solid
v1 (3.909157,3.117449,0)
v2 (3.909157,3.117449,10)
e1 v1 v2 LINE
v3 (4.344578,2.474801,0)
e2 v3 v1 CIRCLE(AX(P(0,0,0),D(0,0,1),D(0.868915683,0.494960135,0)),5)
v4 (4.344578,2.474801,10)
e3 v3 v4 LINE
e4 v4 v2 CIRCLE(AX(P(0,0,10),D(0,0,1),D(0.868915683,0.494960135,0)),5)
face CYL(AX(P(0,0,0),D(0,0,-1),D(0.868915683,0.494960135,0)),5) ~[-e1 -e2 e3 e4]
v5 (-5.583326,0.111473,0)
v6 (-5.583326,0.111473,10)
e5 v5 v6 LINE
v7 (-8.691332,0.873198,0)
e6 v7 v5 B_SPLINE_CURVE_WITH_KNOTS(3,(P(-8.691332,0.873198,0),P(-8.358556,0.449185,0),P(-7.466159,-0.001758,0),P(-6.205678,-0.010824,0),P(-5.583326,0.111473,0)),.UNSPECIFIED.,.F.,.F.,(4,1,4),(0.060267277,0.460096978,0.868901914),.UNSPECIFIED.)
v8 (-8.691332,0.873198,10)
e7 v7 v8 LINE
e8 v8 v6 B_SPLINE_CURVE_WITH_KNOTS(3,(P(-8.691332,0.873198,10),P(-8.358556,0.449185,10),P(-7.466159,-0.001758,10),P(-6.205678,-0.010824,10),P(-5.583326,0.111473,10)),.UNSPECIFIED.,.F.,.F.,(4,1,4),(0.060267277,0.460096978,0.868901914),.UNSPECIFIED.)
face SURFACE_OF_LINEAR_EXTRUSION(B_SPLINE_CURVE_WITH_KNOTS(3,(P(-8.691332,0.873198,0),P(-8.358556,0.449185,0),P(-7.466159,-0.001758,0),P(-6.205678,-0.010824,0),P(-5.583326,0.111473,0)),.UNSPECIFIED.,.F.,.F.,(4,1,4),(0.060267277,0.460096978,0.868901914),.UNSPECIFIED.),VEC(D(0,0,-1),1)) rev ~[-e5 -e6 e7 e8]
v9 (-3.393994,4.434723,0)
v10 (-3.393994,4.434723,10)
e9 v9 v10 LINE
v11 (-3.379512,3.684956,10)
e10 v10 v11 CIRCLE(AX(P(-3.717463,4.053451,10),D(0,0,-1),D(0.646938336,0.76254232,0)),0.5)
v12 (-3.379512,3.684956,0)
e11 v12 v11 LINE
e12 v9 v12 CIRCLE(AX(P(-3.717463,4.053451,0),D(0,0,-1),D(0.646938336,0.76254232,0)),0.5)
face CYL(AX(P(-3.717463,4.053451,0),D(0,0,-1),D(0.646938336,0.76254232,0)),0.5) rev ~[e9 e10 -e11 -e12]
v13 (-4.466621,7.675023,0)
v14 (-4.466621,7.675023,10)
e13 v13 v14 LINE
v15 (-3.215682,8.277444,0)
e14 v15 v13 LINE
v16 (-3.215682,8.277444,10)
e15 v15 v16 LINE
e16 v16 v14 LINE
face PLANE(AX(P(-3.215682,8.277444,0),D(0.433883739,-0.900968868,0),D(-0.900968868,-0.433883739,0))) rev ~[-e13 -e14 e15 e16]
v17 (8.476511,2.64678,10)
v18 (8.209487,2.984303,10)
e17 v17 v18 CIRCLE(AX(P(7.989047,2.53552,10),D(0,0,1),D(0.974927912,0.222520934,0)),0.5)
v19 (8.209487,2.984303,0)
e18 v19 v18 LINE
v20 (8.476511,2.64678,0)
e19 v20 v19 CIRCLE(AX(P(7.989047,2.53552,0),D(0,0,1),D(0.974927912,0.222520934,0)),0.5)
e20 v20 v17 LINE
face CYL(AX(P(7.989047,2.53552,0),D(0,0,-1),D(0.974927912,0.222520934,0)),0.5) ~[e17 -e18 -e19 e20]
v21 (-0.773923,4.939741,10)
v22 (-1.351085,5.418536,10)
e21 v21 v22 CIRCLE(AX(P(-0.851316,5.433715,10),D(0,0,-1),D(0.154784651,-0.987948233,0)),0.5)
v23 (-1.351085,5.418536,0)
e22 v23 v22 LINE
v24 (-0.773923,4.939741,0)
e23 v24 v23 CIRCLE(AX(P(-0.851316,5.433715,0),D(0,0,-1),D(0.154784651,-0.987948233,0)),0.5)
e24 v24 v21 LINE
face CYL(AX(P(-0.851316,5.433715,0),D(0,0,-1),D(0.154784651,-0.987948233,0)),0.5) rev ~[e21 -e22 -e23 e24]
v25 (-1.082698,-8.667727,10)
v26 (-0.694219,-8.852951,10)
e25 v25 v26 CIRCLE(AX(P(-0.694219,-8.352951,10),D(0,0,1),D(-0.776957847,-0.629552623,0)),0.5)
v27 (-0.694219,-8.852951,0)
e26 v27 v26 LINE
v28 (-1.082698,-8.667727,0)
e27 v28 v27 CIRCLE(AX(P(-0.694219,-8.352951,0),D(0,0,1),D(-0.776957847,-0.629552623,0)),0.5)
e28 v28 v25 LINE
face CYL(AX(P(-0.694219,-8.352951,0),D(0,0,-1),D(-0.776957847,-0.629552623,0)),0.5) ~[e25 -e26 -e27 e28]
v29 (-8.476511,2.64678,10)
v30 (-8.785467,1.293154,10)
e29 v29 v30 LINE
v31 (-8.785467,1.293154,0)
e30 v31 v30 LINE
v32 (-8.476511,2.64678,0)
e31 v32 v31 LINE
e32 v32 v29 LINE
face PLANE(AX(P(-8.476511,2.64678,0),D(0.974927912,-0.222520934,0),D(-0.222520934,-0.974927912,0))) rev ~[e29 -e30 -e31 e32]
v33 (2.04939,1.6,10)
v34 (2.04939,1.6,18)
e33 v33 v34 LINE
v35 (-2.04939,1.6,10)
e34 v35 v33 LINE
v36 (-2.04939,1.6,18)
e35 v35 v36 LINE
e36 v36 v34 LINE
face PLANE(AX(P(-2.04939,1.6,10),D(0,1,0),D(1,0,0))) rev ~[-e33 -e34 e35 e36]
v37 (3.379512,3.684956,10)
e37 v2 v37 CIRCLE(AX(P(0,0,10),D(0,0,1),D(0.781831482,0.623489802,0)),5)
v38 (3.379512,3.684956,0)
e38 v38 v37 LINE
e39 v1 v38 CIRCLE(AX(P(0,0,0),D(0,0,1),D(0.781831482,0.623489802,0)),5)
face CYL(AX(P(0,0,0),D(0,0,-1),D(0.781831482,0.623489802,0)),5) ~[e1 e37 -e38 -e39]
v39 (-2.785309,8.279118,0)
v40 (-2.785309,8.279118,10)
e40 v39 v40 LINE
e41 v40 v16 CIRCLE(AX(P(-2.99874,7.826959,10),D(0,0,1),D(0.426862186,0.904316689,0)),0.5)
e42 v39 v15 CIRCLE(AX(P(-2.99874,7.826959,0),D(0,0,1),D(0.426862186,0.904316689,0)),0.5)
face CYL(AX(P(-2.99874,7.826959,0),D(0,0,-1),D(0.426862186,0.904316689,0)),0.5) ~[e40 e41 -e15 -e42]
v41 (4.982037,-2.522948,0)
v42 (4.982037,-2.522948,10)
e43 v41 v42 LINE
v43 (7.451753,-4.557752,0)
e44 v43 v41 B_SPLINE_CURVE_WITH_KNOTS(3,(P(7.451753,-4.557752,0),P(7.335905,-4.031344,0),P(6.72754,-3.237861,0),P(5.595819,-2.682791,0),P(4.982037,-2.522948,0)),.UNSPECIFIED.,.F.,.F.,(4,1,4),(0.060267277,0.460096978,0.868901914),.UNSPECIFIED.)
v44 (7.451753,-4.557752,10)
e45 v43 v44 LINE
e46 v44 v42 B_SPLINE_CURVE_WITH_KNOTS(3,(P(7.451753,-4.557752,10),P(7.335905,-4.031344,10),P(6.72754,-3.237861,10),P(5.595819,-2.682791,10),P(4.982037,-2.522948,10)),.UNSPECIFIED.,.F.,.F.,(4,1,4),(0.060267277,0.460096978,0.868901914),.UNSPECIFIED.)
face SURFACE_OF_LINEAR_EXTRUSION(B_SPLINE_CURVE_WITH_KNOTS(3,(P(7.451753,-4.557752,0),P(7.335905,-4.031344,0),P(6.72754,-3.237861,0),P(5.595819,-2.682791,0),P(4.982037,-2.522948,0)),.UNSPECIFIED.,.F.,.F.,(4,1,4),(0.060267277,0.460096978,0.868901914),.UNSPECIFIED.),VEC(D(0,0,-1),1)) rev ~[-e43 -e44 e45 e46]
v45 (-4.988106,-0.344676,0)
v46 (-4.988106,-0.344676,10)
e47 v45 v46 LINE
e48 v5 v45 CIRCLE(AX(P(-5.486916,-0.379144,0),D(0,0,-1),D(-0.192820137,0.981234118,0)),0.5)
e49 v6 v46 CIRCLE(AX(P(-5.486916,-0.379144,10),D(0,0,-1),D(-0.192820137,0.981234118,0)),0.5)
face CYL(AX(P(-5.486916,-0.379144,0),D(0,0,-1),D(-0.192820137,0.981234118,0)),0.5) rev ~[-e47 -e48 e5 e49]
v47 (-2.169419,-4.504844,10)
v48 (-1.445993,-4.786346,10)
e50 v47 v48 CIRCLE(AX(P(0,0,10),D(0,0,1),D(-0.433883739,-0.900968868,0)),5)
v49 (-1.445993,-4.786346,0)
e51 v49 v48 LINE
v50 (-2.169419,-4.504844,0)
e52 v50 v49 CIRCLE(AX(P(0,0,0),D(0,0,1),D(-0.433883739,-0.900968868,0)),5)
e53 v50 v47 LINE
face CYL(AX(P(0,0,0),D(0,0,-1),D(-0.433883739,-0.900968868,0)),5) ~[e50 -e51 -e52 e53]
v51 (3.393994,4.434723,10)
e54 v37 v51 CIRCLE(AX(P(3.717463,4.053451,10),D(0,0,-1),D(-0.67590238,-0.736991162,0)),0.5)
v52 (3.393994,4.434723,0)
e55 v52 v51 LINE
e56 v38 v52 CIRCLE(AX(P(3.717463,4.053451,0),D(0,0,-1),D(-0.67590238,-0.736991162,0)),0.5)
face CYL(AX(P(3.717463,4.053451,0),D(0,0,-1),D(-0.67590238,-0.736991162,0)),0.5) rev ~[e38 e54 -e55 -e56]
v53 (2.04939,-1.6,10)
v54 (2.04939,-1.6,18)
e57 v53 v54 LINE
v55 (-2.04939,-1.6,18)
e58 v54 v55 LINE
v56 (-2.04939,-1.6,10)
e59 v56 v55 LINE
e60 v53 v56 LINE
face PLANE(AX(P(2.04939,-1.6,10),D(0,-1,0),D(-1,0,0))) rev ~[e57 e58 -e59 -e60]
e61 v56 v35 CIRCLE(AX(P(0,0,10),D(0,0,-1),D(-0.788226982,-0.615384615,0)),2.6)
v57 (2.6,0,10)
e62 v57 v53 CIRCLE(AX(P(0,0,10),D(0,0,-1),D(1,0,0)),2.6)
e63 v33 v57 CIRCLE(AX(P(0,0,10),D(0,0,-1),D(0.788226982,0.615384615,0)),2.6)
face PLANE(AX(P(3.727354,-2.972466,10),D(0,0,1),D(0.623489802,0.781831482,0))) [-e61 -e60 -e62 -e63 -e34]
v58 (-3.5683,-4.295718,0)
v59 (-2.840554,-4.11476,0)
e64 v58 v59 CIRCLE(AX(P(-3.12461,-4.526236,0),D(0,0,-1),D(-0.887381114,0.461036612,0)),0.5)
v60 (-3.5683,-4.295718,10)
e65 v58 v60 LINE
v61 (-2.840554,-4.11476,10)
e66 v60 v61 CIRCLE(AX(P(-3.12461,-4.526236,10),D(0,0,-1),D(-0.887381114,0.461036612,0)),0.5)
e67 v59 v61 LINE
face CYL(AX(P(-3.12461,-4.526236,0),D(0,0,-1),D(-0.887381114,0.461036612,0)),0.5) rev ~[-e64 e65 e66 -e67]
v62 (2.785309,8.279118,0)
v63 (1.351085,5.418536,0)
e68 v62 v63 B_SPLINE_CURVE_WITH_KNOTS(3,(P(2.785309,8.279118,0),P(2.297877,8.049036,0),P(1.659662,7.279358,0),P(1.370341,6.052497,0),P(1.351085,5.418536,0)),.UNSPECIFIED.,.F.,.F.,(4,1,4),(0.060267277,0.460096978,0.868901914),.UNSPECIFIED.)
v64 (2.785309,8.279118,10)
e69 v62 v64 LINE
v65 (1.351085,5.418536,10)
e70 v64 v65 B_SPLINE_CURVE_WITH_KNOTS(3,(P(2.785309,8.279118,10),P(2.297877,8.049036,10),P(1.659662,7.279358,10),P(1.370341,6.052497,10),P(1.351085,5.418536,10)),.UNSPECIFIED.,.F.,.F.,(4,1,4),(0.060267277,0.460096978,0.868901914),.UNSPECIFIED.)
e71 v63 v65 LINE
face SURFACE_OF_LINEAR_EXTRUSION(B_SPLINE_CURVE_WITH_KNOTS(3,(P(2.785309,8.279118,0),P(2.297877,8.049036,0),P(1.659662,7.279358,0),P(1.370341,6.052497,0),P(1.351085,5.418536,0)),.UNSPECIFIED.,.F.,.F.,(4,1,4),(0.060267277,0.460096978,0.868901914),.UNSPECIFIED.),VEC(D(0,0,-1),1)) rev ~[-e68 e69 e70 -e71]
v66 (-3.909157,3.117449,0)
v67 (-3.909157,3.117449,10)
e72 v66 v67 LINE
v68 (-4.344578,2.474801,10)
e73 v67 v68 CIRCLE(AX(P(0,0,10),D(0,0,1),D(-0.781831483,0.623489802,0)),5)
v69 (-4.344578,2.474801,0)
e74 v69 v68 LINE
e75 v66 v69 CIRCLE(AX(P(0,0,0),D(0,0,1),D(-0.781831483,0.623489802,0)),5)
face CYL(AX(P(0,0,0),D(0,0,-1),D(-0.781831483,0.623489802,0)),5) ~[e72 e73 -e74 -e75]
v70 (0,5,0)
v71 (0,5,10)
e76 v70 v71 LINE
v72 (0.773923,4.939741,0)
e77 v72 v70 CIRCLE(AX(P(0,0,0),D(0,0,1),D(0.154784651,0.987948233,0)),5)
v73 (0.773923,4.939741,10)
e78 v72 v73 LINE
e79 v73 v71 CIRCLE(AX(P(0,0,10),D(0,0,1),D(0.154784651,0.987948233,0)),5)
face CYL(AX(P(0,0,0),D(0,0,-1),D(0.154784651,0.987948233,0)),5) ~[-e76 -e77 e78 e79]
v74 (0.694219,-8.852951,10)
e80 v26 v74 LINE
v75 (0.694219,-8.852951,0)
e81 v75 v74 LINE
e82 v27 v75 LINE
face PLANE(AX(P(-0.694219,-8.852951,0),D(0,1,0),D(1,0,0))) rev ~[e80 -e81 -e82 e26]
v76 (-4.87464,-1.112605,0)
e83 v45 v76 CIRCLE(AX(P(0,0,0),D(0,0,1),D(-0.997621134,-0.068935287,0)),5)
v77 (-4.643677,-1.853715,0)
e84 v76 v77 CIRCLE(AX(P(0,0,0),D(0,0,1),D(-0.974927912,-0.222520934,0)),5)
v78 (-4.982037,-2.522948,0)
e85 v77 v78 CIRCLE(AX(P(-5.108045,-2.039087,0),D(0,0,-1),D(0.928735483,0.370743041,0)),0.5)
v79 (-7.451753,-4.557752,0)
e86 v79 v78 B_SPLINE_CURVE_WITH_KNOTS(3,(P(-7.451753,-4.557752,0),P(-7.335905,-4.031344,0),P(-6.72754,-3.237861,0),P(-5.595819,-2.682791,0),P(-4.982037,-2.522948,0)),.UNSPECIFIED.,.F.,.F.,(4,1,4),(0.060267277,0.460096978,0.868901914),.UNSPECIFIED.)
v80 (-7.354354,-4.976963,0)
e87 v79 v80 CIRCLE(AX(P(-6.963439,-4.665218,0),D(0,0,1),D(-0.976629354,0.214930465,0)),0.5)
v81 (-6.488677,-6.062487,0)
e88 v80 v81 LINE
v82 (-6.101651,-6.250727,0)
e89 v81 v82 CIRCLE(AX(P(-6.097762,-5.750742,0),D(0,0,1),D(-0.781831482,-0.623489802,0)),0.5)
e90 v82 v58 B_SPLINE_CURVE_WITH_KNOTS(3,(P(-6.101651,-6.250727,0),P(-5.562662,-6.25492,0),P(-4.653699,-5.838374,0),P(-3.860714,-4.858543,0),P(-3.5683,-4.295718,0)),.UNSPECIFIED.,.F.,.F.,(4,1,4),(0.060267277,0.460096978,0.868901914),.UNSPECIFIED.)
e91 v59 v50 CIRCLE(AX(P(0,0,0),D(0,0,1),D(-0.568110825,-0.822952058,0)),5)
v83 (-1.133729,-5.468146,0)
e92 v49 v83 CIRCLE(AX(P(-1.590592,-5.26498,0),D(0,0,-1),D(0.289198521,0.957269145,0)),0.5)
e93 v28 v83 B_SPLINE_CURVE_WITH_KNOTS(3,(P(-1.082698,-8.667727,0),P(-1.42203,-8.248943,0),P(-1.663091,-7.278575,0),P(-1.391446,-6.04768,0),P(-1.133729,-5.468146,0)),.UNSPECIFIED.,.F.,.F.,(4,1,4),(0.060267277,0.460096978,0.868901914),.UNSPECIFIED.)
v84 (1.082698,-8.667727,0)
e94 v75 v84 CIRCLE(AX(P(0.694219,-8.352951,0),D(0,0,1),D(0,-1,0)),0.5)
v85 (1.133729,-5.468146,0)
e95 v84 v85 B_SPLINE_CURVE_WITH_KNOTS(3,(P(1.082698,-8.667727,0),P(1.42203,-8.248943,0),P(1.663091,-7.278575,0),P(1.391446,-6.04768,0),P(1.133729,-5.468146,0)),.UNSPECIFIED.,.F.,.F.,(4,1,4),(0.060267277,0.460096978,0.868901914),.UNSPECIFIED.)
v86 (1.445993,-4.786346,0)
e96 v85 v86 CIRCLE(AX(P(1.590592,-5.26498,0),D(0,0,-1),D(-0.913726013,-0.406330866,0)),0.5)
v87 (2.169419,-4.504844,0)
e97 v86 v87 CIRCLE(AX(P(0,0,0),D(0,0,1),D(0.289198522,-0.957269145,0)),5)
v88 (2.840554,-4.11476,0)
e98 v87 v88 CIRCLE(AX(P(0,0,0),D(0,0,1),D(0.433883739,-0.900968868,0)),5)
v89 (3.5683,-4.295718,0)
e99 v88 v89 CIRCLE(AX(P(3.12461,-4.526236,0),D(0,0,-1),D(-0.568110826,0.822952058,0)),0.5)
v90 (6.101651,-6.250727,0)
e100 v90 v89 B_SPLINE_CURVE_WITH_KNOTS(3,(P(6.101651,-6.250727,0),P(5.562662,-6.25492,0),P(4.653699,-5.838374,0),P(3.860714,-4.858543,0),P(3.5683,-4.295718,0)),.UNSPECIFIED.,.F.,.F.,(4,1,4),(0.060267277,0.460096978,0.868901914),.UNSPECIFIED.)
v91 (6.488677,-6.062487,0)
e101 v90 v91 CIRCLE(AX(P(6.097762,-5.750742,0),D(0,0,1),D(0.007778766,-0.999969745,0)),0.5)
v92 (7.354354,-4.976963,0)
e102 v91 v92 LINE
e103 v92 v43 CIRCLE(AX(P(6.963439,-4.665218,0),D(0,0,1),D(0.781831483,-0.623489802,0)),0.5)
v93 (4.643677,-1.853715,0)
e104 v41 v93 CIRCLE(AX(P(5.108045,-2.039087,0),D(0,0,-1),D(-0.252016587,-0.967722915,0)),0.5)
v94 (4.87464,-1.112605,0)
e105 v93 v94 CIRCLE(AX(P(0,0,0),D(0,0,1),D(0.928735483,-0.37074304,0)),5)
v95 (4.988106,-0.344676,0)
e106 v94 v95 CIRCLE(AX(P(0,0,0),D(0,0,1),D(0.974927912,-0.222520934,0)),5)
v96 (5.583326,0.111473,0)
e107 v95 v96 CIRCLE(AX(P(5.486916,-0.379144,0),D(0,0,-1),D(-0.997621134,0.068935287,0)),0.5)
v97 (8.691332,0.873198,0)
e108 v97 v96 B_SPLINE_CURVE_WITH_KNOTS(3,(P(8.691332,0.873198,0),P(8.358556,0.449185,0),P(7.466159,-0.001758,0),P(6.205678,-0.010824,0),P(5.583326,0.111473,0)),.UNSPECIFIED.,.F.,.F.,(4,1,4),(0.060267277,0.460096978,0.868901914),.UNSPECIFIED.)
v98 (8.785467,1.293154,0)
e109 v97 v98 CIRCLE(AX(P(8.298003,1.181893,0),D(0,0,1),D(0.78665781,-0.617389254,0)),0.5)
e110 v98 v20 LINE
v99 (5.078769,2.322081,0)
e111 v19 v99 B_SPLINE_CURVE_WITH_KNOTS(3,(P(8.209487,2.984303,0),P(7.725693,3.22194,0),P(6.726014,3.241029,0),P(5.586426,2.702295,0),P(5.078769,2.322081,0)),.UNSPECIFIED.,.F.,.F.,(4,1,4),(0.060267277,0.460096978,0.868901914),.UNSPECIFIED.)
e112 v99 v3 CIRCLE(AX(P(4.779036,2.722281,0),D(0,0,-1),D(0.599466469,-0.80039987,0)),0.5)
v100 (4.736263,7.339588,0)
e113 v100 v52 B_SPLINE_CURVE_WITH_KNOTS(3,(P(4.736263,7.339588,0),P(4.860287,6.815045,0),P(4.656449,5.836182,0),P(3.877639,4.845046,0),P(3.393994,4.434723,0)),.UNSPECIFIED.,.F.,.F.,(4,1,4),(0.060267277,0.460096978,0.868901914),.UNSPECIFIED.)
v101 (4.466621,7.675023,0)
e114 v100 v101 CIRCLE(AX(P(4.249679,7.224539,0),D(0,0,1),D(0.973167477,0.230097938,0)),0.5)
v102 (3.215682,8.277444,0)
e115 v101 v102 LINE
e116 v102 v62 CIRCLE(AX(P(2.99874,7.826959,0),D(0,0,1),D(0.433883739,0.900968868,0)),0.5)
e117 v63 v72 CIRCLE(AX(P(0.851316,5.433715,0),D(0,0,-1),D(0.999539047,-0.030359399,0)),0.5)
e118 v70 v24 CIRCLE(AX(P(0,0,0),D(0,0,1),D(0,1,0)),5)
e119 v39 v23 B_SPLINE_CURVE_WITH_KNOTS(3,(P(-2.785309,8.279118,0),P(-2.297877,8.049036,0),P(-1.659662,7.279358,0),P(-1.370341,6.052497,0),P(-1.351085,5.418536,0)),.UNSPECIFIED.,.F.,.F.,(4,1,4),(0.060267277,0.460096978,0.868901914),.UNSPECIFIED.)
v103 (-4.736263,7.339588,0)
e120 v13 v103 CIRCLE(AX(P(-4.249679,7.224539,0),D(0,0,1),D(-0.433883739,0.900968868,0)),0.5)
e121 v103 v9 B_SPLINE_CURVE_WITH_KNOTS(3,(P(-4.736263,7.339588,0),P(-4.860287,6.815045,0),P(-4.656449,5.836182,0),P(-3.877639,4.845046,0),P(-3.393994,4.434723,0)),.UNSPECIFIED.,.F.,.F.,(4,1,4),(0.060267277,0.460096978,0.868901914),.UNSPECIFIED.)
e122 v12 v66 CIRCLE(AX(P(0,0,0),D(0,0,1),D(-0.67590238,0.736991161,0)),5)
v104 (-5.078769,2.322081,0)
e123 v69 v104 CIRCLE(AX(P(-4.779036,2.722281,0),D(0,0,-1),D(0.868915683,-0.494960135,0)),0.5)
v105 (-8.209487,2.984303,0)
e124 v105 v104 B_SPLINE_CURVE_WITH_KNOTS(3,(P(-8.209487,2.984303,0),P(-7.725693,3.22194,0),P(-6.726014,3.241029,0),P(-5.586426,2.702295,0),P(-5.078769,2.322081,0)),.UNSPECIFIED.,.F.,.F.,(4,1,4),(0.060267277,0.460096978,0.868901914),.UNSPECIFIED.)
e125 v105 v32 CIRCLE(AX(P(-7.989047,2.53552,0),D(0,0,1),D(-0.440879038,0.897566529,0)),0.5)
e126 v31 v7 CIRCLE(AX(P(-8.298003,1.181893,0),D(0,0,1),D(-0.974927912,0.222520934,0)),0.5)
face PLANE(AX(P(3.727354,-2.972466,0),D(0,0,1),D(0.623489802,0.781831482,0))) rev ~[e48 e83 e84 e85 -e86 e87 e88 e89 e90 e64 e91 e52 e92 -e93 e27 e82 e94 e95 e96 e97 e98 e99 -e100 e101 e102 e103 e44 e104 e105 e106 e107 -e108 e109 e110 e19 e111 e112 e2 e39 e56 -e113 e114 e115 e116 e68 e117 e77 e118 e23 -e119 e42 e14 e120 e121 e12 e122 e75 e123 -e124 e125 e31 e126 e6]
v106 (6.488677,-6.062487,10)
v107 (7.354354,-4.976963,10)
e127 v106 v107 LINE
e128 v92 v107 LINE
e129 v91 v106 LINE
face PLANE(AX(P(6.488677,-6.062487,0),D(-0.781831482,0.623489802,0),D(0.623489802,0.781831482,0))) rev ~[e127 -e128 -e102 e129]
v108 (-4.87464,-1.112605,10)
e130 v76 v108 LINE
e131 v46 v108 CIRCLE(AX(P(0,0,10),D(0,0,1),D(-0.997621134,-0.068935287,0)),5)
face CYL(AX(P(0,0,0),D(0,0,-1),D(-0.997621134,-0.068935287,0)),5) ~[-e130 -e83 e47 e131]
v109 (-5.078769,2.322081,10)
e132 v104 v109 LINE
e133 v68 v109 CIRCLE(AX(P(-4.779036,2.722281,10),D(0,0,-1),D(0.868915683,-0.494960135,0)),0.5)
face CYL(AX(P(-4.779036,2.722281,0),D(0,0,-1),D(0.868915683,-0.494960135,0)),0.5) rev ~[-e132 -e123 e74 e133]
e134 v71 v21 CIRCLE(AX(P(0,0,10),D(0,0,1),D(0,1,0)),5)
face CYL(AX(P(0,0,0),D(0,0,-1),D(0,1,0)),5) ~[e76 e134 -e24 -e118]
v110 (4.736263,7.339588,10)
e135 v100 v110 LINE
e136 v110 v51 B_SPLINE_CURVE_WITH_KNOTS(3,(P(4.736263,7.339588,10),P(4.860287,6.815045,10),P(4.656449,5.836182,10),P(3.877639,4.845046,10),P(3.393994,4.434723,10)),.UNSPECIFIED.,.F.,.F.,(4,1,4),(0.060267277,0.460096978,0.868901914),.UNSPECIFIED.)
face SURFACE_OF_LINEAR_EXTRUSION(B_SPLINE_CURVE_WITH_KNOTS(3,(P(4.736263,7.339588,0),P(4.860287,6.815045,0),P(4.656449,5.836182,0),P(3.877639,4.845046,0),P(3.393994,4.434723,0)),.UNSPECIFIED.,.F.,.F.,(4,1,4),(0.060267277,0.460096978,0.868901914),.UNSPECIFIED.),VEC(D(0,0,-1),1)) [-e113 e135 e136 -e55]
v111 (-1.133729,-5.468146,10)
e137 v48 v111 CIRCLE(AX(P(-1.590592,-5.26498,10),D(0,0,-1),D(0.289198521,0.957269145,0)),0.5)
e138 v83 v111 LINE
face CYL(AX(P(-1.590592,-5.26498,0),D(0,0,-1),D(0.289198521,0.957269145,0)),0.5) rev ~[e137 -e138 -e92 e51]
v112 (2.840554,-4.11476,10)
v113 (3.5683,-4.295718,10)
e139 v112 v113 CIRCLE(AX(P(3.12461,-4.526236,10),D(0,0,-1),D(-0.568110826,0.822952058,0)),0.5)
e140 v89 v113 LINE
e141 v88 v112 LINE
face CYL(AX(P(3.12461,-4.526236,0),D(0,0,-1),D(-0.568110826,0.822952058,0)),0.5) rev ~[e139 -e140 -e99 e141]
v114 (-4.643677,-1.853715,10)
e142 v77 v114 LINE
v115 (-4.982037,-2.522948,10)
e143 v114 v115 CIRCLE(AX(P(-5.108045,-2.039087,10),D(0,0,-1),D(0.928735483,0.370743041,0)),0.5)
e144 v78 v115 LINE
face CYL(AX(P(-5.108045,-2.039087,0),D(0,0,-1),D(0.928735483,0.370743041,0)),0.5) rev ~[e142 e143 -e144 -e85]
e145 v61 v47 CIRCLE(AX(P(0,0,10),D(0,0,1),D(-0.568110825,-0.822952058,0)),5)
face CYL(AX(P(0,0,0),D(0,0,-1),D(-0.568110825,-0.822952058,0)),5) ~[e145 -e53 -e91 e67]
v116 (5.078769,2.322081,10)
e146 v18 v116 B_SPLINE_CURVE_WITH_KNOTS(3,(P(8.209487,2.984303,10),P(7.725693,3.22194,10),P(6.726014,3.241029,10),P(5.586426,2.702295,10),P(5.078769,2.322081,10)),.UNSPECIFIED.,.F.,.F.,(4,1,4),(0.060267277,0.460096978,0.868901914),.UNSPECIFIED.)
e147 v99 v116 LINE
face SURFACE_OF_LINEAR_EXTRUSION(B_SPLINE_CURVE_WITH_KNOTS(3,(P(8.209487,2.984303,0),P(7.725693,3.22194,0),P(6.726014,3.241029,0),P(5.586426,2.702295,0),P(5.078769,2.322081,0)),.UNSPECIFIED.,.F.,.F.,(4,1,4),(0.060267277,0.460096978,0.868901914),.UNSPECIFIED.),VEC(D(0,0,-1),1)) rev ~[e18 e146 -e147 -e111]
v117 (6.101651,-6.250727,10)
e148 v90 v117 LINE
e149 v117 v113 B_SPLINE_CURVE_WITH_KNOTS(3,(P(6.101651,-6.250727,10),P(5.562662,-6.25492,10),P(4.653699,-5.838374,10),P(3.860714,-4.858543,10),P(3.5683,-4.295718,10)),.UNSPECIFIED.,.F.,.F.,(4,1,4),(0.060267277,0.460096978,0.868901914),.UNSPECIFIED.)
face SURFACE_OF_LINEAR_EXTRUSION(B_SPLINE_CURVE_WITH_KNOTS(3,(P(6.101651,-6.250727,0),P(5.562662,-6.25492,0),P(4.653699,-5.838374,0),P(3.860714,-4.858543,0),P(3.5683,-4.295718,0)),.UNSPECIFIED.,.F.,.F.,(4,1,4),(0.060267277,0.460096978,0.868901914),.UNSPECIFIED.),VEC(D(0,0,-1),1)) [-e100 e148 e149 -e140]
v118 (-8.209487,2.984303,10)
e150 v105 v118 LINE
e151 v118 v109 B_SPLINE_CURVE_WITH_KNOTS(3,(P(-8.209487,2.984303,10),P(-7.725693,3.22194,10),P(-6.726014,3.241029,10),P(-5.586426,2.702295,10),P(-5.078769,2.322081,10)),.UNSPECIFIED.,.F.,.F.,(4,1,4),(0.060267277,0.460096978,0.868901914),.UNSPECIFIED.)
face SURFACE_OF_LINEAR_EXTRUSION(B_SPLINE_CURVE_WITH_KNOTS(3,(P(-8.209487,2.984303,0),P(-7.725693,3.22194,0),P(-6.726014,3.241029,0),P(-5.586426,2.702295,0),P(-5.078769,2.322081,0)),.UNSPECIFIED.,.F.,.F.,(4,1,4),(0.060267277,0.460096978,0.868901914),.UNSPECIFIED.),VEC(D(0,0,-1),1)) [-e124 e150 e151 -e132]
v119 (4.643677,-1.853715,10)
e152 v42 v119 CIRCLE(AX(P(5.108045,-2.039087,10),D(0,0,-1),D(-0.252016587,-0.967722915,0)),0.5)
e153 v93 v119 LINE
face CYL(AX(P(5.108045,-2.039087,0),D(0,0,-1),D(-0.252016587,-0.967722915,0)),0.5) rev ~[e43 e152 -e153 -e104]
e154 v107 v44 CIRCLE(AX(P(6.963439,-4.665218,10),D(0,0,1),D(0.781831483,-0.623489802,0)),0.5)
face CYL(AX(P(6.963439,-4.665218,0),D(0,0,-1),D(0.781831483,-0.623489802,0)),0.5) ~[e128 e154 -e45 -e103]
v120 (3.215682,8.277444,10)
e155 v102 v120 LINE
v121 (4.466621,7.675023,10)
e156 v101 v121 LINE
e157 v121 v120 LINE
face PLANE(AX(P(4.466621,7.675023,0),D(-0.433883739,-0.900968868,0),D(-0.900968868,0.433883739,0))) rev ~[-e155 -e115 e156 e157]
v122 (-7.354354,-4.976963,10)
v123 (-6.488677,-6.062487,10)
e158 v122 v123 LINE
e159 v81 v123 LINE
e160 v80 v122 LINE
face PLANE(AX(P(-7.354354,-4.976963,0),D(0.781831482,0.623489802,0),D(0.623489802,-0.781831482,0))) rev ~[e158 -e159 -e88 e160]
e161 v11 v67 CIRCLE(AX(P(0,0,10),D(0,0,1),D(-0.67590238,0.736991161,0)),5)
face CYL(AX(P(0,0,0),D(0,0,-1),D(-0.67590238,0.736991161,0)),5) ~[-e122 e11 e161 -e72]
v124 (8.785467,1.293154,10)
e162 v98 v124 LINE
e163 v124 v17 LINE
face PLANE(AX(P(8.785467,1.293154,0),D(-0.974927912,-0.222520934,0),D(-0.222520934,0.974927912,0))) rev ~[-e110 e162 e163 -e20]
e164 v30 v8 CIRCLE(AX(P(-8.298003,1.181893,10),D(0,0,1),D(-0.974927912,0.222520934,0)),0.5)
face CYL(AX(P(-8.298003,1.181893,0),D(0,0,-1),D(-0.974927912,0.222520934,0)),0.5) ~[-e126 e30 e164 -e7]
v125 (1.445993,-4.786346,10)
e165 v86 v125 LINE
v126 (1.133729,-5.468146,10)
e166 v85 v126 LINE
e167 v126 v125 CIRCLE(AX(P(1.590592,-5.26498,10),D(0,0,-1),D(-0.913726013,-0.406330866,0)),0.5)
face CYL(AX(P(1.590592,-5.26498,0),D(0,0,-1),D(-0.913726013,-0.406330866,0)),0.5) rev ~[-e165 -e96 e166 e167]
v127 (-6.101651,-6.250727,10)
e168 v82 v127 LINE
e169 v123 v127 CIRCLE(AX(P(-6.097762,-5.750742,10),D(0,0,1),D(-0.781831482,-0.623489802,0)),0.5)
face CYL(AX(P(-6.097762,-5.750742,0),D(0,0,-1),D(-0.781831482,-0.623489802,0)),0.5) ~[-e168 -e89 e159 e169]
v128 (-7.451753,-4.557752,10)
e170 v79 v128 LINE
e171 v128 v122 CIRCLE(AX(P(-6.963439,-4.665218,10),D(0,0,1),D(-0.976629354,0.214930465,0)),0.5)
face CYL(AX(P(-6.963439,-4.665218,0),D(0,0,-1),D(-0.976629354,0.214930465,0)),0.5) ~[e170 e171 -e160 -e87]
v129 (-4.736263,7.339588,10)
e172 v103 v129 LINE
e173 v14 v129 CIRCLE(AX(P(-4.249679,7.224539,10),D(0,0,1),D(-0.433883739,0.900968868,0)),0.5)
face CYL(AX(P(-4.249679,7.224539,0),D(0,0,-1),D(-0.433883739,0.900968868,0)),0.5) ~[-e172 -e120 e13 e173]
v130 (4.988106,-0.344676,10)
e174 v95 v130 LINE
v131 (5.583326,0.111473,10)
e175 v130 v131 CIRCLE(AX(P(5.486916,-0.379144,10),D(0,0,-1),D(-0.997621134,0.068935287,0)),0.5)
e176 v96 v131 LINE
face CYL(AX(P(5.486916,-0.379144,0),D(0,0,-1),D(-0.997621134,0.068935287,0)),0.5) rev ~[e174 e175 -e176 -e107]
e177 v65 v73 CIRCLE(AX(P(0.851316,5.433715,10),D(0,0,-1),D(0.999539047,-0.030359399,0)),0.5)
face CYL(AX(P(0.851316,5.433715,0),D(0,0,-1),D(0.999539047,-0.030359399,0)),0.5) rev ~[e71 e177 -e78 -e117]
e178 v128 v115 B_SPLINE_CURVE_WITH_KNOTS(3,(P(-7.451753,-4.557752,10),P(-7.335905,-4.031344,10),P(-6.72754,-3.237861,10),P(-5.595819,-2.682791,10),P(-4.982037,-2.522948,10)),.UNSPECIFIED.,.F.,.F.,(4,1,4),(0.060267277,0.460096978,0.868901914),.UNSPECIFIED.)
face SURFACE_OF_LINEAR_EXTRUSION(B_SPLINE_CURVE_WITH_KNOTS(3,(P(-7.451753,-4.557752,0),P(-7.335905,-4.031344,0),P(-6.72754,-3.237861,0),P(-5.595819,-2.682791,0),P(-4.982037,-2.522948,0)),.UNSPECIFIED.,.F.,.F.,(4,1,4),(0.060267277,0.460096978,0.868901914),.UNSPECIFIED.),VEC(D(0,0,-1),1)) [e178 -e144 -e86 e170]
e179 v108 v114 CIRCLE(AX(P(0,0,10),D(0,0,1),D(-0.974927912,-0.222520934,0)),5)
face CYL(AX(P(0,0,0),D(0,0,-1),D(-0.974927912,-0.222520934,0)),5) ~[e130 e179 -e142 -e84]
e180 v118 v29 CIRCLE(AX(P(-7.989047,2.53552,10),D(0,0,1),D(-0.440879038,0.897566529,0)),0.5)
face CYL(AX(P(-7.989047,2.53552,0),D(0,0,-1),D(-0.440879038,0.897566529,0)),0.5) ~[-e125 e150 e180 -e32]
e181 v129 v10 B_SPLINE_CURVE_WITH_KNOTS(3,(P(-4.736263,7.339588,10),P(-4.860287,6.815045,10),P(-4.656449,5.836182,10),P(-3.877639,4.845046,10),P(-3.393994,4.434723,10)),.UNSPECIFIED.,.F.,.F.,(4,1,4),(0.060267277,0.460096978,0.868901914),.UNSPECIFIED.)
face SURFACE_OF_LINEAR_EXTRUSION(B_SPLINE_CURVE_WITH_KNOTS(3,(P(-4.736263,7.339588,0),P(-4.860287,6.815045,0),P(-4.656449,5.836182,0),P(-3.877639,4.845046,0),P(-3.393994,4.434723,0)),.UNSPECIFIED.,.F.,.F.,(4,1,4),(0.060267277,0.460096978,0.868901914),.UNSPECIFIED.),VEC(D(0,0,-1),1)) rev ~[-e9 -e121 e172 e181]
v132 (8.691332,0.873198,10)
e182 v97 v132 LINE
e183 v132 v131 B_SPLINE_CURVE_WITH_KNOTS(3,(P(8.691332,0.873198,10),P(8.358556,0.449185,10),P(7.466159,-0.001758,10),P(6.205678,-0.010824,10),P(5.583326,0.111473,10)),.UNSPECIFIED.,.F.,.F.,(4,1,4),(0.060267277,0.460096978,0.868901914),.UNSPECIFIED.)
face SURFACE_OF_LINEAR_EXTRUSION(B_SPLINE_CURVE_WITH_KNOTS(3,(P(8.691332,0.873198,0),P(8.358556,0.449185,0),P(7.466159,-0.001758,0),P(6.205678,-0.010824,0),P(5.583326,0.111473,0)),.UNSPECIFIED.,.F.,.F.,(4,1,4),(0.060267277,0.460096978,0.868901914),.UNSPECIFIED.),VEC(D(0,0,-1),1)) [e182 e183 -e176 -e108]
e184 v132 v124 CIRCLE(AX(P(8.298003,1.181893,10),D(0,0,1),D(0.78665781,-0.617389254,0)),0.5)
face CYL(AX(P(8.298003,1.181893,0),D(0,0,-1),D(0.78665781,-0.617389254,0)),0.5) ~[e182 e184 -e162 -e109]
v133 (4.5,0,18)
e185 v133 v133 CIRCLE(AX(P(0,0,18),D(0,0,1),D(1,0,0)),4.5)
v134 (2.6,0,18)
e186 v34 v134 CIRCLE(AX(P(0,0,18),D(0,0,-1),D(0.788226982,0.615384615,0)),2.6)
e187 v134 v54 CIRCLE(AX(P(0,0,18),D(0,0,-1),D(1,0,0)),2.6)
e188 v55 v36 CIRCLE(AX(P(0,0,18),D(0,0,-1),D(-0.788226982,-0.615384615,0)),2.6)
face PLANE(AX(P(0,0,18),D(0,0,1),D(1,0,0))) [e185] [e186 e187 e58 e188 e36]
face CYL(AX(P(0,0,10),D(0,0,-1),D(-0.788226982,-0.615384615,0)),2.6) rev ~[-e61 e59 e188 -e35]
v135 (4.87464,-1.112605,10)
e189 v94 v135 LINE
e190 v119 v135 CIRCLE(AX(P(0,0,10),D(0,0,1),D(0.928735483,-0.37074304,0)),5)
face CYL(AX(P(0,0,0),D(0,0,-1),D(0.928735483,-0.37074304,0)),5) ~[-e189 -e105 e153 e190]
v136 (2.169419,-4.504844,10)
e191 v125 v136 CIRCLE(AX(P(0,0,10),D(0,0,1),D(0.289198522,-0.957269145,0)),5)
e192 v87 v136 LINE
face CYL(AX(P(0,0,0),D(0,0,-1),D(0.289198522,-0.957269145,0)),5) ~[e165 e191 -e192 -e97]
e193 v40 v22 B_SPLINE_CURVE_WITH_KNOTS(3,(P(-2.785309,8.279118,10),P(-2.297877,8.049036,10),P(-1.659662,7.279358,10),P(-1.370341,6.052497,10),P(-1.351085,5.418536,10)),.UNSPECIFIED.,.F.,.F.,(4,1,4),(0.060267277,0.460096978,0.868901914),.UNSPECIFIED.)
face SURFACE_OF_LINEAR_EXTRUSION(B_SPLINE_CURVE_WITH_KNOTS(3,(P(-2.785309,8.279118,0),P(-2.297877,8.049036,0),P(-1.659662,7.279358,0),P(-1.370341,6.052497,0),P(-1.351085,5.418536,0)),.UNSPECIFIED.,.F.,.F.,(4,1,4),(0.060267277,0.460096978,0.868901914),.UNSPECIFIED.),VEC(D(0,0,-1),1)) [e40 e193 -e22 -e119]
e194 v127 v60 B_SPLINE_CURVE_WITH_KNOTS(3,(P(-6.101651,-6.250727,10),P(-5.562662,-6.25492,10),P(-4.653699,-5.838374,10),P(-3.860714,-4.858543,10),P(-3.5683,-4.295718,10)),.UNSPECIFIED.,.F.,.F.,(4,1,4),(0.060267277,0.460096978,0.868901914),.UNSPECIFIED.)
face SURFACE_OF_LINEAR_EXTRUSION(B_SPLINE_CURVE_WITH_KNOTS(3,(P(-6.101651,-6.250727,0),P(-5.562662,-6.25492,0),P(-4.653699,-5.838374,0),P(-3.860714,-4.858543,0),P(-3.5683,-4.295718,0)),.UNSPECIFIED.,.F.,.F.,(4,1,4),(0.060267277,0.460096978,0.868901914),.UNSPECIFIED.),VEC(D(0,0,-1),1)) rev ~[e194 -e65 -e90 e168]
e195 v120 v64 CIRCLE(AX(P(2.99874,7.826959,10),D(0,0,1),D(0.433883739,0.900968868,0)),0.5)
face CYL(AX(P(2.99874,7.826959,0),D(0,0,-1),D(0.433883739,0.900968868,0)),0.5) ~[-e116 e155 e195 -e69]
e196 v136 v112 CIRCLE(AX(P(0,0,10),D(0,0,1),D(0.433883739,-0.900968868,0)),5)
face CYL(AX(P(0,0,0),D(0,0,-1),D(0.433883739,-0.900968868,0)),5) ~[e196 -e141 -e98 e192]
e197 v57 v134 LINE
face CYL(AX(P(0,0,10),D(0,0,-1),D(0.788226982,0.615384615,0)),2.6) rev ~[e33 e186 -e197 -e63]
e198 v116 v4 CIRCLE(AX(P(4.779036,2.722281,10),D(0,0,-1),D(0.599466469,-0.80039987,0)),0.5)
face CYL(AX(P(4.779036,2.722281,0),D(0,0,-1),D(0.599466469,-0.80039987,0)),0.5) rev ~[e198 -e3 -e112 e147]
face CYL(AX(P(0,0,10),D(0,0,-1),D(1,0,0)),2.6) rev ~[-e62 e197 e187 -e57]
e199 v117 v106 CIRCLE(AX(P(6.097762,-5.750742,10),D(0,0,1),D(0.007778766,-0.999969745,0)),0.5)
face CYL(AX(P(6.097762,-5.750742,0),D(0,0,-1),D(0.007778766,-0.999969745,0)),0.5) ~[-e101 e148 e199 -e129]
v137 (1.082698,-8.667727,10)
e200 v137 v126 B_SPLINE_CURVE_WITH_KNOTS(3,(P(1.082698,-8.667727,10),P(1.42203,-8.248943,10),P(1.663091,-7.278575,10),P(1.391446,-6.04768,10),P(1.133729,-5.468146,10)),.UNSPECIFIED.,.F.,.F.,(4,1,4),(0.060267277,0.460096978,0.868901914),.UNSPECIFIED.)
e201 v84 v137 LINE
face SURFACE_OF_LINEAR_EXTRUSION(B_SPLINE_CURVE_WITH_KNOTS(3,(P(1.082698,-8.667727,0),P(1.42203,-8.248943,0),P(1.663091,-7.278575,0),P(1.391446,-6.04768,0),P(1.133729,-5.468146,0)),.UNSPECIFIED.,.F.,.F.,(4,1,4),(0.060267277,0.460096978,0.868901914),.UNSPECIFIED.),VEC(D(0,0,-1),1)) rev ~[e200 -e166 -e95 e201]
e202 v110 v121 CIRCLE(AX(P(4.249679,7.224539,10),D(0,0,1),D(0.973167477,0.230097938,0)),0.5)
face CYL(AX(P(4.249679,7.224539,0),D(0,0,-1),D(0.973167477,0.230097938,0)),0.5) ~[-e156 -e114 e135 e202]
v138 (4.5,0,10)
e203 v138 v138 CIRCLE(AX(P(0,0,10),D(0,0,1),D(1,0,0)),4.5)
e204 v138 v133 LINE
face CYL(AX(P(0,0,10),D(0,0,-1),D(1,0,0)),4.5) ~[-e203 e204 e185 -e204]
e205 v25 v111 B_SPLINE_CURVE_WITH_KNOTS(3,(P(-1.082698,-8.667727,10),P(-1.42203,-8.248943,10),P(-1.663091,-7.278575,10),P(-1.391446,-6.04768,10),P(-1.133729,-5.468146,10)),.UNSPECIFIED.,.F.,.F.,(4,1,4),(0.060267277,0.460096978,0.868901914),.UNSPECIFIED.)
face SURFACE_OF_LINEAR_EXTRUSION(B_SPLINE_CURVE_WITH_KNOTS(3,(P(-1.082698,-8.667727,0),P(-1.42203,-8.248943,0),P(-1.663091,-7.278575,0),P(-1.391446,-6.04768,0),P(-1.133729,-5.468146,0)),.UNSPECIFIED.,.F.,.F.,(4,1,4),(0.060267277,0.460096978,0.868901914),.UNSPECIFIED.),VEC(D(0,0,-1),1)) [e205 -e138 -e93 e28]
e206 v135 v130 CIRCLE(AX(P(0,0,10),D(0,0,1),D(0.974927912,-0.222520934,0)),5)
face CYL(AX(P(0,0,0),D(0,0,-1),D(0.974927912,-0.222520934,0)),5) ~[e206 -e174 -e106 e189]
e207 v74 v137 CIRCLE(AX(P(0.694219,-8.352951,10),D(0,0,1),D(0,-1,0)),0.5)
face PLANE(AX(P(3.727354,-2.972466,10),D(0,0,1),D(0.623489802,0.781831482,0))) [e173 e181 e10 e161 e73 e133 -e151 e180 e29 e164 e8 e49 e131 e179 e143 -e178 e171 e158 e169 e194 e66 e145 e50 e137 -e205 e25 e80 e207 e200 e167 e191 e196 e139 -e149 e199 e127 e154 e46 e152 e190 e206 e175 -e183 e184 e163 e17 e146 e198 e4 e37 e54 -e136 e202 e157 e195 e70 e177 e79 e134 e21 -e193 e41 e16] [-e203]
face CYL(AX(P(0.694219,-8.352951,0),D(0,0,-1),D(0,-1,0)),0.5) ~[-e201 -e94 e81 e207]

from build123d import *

# Parameters (mm, degrees)
F1_DEPTH = 10
F2_COUNT = 7
F2_ANGLE = 308.5714285714
F3_R     = 4.5
F4_DEPTH = 8


with BuildPart() as f1:
    # F0 (on Top) → F1 (new body)
    with BuildSketch(Plane.XY):
        with BuildLine():
            Line((2.1694186956, -4.5048443395), (0, 0))
            Line((0, 0), (-2.1694186956, -4.5048443395))
            ThreePointArc((-2.1694186956, -4.5048443395), (-1.8131769027, -4.6596555151), (-1.4459926079, -4.7863457228))
            ThreePointArc((-1.4459926079, -4.7863457228), (-1.1360019143, -5.0567785338), (-1.1337288621, -5.4681457281))
            add(Edge.make_bspline(
                [(-1.0826978963, -8.6677274808), (-1.4220303963, -8.2489427131), (-1.6630910077, -7.2785752045), (-1.3914458364, -6.0476801005), (-1.1337288621, -5.4681457281)],
                knots=[0.0602672768, 0.0602672768, 0.0602672768, 0.0602672768, 0.4600969779, 0.8689019138, 0.8689019138, 0.8689019138, 0.8689019138], degree=3))
            ThreePointArc((-1.0826978963, -8.6677274808), (-0.9094070817, -8.8042759726), (-0.6942189728, -8.8529511696))
            Line((-0.6942189728, -8.8529511696), (0.6942189728, -8.8529511696))
            ThreePointArc((0.6942189728, -8.8529511696), (0.9094070817, -8.8042759726), (1.0826978963, -8.6677274808))
            add(Edge.make_bspline(
                [(1.0826978963, -8.6677274808), (1.4220303963, -8.2489427131), (1.6630910077, -7.2785752045), (1.3914458364, -6.0476801005), (1.1337288621, -5.4681457281)],
                knots=[0.0602672768, 0.0602672768, 0.0602672768, 0.0602672768, 0.4600969779, 0.8689019138, 0.8689019138, 0.8689019138, 0.8689019138], degree=3))
            ThreePointArc((1.1337288621, -5.4681457281), (1.1360019143, -5.0567785338), (1.4459926079, -4.7863457228))
            ThreePointArc((1.4459926079, -4.7863457228), (1.8131769027, -4.6596555151), (2.1694186956, -4.5048443395))
        make_face()
    extrude(amount=F1_DEPTH)

    # F2: F1 ×7 about axis
    f2_axis = Axis((0, 0, 5), (0, 0, -1))


with BuildPart() as f1_1:
    add(f1.part)
    for i in range(1, F2_COUNT):
        add(f1.part.rotate(f2_axis, i * F2_ANGLE / (F2_COUNT - 1)))

    # F3 (on face) → F4 (join)
    with BuildSketch(Plane.XY.offset(10)):
        Circle(F3_R)
        with BuildLine():
            ThreePointArc((2.0493901532, 1.6), (2.458496939, 0.8460453894), (2.6, 0))
            ThreePointArc((2.6, 0), (2.458496939, -0.8460453894), (2.0493901532, -1.6))
            ThreePointArc((2.0493901532, -1.6), (0, -2.6), (-2.0493901532, -1.6))
            ThreePointArc((-2.0493901532, -1.6), (-2.6, 0), (-2.0493901532, 1.6))
            ThreePointArc((-2.0493901532, 1.6), (0, 2.6), (2.0493901532, 1.6))
        make_face(mode=Mode.SUBTRACT)
        with BuildLine():
            Line((-2.0493901532, 1.6), (2.0493901532, 1.6))
            ThreePointArc((2.0493901532, 1.6), (0, 2.6), (-2.0493901532, 1.6))
        make_face()
        with BuildLine():
            ThreePointArc((-2.0493901532, -1.6), (0, -2.6), (2.0493901532, -1.6))
            Line((2.0493901532, -1.6), (-2.0493901532, -1.6))
        make_face()
    extrude(amount=F4_DEPTH)


solid = f1_1.part
